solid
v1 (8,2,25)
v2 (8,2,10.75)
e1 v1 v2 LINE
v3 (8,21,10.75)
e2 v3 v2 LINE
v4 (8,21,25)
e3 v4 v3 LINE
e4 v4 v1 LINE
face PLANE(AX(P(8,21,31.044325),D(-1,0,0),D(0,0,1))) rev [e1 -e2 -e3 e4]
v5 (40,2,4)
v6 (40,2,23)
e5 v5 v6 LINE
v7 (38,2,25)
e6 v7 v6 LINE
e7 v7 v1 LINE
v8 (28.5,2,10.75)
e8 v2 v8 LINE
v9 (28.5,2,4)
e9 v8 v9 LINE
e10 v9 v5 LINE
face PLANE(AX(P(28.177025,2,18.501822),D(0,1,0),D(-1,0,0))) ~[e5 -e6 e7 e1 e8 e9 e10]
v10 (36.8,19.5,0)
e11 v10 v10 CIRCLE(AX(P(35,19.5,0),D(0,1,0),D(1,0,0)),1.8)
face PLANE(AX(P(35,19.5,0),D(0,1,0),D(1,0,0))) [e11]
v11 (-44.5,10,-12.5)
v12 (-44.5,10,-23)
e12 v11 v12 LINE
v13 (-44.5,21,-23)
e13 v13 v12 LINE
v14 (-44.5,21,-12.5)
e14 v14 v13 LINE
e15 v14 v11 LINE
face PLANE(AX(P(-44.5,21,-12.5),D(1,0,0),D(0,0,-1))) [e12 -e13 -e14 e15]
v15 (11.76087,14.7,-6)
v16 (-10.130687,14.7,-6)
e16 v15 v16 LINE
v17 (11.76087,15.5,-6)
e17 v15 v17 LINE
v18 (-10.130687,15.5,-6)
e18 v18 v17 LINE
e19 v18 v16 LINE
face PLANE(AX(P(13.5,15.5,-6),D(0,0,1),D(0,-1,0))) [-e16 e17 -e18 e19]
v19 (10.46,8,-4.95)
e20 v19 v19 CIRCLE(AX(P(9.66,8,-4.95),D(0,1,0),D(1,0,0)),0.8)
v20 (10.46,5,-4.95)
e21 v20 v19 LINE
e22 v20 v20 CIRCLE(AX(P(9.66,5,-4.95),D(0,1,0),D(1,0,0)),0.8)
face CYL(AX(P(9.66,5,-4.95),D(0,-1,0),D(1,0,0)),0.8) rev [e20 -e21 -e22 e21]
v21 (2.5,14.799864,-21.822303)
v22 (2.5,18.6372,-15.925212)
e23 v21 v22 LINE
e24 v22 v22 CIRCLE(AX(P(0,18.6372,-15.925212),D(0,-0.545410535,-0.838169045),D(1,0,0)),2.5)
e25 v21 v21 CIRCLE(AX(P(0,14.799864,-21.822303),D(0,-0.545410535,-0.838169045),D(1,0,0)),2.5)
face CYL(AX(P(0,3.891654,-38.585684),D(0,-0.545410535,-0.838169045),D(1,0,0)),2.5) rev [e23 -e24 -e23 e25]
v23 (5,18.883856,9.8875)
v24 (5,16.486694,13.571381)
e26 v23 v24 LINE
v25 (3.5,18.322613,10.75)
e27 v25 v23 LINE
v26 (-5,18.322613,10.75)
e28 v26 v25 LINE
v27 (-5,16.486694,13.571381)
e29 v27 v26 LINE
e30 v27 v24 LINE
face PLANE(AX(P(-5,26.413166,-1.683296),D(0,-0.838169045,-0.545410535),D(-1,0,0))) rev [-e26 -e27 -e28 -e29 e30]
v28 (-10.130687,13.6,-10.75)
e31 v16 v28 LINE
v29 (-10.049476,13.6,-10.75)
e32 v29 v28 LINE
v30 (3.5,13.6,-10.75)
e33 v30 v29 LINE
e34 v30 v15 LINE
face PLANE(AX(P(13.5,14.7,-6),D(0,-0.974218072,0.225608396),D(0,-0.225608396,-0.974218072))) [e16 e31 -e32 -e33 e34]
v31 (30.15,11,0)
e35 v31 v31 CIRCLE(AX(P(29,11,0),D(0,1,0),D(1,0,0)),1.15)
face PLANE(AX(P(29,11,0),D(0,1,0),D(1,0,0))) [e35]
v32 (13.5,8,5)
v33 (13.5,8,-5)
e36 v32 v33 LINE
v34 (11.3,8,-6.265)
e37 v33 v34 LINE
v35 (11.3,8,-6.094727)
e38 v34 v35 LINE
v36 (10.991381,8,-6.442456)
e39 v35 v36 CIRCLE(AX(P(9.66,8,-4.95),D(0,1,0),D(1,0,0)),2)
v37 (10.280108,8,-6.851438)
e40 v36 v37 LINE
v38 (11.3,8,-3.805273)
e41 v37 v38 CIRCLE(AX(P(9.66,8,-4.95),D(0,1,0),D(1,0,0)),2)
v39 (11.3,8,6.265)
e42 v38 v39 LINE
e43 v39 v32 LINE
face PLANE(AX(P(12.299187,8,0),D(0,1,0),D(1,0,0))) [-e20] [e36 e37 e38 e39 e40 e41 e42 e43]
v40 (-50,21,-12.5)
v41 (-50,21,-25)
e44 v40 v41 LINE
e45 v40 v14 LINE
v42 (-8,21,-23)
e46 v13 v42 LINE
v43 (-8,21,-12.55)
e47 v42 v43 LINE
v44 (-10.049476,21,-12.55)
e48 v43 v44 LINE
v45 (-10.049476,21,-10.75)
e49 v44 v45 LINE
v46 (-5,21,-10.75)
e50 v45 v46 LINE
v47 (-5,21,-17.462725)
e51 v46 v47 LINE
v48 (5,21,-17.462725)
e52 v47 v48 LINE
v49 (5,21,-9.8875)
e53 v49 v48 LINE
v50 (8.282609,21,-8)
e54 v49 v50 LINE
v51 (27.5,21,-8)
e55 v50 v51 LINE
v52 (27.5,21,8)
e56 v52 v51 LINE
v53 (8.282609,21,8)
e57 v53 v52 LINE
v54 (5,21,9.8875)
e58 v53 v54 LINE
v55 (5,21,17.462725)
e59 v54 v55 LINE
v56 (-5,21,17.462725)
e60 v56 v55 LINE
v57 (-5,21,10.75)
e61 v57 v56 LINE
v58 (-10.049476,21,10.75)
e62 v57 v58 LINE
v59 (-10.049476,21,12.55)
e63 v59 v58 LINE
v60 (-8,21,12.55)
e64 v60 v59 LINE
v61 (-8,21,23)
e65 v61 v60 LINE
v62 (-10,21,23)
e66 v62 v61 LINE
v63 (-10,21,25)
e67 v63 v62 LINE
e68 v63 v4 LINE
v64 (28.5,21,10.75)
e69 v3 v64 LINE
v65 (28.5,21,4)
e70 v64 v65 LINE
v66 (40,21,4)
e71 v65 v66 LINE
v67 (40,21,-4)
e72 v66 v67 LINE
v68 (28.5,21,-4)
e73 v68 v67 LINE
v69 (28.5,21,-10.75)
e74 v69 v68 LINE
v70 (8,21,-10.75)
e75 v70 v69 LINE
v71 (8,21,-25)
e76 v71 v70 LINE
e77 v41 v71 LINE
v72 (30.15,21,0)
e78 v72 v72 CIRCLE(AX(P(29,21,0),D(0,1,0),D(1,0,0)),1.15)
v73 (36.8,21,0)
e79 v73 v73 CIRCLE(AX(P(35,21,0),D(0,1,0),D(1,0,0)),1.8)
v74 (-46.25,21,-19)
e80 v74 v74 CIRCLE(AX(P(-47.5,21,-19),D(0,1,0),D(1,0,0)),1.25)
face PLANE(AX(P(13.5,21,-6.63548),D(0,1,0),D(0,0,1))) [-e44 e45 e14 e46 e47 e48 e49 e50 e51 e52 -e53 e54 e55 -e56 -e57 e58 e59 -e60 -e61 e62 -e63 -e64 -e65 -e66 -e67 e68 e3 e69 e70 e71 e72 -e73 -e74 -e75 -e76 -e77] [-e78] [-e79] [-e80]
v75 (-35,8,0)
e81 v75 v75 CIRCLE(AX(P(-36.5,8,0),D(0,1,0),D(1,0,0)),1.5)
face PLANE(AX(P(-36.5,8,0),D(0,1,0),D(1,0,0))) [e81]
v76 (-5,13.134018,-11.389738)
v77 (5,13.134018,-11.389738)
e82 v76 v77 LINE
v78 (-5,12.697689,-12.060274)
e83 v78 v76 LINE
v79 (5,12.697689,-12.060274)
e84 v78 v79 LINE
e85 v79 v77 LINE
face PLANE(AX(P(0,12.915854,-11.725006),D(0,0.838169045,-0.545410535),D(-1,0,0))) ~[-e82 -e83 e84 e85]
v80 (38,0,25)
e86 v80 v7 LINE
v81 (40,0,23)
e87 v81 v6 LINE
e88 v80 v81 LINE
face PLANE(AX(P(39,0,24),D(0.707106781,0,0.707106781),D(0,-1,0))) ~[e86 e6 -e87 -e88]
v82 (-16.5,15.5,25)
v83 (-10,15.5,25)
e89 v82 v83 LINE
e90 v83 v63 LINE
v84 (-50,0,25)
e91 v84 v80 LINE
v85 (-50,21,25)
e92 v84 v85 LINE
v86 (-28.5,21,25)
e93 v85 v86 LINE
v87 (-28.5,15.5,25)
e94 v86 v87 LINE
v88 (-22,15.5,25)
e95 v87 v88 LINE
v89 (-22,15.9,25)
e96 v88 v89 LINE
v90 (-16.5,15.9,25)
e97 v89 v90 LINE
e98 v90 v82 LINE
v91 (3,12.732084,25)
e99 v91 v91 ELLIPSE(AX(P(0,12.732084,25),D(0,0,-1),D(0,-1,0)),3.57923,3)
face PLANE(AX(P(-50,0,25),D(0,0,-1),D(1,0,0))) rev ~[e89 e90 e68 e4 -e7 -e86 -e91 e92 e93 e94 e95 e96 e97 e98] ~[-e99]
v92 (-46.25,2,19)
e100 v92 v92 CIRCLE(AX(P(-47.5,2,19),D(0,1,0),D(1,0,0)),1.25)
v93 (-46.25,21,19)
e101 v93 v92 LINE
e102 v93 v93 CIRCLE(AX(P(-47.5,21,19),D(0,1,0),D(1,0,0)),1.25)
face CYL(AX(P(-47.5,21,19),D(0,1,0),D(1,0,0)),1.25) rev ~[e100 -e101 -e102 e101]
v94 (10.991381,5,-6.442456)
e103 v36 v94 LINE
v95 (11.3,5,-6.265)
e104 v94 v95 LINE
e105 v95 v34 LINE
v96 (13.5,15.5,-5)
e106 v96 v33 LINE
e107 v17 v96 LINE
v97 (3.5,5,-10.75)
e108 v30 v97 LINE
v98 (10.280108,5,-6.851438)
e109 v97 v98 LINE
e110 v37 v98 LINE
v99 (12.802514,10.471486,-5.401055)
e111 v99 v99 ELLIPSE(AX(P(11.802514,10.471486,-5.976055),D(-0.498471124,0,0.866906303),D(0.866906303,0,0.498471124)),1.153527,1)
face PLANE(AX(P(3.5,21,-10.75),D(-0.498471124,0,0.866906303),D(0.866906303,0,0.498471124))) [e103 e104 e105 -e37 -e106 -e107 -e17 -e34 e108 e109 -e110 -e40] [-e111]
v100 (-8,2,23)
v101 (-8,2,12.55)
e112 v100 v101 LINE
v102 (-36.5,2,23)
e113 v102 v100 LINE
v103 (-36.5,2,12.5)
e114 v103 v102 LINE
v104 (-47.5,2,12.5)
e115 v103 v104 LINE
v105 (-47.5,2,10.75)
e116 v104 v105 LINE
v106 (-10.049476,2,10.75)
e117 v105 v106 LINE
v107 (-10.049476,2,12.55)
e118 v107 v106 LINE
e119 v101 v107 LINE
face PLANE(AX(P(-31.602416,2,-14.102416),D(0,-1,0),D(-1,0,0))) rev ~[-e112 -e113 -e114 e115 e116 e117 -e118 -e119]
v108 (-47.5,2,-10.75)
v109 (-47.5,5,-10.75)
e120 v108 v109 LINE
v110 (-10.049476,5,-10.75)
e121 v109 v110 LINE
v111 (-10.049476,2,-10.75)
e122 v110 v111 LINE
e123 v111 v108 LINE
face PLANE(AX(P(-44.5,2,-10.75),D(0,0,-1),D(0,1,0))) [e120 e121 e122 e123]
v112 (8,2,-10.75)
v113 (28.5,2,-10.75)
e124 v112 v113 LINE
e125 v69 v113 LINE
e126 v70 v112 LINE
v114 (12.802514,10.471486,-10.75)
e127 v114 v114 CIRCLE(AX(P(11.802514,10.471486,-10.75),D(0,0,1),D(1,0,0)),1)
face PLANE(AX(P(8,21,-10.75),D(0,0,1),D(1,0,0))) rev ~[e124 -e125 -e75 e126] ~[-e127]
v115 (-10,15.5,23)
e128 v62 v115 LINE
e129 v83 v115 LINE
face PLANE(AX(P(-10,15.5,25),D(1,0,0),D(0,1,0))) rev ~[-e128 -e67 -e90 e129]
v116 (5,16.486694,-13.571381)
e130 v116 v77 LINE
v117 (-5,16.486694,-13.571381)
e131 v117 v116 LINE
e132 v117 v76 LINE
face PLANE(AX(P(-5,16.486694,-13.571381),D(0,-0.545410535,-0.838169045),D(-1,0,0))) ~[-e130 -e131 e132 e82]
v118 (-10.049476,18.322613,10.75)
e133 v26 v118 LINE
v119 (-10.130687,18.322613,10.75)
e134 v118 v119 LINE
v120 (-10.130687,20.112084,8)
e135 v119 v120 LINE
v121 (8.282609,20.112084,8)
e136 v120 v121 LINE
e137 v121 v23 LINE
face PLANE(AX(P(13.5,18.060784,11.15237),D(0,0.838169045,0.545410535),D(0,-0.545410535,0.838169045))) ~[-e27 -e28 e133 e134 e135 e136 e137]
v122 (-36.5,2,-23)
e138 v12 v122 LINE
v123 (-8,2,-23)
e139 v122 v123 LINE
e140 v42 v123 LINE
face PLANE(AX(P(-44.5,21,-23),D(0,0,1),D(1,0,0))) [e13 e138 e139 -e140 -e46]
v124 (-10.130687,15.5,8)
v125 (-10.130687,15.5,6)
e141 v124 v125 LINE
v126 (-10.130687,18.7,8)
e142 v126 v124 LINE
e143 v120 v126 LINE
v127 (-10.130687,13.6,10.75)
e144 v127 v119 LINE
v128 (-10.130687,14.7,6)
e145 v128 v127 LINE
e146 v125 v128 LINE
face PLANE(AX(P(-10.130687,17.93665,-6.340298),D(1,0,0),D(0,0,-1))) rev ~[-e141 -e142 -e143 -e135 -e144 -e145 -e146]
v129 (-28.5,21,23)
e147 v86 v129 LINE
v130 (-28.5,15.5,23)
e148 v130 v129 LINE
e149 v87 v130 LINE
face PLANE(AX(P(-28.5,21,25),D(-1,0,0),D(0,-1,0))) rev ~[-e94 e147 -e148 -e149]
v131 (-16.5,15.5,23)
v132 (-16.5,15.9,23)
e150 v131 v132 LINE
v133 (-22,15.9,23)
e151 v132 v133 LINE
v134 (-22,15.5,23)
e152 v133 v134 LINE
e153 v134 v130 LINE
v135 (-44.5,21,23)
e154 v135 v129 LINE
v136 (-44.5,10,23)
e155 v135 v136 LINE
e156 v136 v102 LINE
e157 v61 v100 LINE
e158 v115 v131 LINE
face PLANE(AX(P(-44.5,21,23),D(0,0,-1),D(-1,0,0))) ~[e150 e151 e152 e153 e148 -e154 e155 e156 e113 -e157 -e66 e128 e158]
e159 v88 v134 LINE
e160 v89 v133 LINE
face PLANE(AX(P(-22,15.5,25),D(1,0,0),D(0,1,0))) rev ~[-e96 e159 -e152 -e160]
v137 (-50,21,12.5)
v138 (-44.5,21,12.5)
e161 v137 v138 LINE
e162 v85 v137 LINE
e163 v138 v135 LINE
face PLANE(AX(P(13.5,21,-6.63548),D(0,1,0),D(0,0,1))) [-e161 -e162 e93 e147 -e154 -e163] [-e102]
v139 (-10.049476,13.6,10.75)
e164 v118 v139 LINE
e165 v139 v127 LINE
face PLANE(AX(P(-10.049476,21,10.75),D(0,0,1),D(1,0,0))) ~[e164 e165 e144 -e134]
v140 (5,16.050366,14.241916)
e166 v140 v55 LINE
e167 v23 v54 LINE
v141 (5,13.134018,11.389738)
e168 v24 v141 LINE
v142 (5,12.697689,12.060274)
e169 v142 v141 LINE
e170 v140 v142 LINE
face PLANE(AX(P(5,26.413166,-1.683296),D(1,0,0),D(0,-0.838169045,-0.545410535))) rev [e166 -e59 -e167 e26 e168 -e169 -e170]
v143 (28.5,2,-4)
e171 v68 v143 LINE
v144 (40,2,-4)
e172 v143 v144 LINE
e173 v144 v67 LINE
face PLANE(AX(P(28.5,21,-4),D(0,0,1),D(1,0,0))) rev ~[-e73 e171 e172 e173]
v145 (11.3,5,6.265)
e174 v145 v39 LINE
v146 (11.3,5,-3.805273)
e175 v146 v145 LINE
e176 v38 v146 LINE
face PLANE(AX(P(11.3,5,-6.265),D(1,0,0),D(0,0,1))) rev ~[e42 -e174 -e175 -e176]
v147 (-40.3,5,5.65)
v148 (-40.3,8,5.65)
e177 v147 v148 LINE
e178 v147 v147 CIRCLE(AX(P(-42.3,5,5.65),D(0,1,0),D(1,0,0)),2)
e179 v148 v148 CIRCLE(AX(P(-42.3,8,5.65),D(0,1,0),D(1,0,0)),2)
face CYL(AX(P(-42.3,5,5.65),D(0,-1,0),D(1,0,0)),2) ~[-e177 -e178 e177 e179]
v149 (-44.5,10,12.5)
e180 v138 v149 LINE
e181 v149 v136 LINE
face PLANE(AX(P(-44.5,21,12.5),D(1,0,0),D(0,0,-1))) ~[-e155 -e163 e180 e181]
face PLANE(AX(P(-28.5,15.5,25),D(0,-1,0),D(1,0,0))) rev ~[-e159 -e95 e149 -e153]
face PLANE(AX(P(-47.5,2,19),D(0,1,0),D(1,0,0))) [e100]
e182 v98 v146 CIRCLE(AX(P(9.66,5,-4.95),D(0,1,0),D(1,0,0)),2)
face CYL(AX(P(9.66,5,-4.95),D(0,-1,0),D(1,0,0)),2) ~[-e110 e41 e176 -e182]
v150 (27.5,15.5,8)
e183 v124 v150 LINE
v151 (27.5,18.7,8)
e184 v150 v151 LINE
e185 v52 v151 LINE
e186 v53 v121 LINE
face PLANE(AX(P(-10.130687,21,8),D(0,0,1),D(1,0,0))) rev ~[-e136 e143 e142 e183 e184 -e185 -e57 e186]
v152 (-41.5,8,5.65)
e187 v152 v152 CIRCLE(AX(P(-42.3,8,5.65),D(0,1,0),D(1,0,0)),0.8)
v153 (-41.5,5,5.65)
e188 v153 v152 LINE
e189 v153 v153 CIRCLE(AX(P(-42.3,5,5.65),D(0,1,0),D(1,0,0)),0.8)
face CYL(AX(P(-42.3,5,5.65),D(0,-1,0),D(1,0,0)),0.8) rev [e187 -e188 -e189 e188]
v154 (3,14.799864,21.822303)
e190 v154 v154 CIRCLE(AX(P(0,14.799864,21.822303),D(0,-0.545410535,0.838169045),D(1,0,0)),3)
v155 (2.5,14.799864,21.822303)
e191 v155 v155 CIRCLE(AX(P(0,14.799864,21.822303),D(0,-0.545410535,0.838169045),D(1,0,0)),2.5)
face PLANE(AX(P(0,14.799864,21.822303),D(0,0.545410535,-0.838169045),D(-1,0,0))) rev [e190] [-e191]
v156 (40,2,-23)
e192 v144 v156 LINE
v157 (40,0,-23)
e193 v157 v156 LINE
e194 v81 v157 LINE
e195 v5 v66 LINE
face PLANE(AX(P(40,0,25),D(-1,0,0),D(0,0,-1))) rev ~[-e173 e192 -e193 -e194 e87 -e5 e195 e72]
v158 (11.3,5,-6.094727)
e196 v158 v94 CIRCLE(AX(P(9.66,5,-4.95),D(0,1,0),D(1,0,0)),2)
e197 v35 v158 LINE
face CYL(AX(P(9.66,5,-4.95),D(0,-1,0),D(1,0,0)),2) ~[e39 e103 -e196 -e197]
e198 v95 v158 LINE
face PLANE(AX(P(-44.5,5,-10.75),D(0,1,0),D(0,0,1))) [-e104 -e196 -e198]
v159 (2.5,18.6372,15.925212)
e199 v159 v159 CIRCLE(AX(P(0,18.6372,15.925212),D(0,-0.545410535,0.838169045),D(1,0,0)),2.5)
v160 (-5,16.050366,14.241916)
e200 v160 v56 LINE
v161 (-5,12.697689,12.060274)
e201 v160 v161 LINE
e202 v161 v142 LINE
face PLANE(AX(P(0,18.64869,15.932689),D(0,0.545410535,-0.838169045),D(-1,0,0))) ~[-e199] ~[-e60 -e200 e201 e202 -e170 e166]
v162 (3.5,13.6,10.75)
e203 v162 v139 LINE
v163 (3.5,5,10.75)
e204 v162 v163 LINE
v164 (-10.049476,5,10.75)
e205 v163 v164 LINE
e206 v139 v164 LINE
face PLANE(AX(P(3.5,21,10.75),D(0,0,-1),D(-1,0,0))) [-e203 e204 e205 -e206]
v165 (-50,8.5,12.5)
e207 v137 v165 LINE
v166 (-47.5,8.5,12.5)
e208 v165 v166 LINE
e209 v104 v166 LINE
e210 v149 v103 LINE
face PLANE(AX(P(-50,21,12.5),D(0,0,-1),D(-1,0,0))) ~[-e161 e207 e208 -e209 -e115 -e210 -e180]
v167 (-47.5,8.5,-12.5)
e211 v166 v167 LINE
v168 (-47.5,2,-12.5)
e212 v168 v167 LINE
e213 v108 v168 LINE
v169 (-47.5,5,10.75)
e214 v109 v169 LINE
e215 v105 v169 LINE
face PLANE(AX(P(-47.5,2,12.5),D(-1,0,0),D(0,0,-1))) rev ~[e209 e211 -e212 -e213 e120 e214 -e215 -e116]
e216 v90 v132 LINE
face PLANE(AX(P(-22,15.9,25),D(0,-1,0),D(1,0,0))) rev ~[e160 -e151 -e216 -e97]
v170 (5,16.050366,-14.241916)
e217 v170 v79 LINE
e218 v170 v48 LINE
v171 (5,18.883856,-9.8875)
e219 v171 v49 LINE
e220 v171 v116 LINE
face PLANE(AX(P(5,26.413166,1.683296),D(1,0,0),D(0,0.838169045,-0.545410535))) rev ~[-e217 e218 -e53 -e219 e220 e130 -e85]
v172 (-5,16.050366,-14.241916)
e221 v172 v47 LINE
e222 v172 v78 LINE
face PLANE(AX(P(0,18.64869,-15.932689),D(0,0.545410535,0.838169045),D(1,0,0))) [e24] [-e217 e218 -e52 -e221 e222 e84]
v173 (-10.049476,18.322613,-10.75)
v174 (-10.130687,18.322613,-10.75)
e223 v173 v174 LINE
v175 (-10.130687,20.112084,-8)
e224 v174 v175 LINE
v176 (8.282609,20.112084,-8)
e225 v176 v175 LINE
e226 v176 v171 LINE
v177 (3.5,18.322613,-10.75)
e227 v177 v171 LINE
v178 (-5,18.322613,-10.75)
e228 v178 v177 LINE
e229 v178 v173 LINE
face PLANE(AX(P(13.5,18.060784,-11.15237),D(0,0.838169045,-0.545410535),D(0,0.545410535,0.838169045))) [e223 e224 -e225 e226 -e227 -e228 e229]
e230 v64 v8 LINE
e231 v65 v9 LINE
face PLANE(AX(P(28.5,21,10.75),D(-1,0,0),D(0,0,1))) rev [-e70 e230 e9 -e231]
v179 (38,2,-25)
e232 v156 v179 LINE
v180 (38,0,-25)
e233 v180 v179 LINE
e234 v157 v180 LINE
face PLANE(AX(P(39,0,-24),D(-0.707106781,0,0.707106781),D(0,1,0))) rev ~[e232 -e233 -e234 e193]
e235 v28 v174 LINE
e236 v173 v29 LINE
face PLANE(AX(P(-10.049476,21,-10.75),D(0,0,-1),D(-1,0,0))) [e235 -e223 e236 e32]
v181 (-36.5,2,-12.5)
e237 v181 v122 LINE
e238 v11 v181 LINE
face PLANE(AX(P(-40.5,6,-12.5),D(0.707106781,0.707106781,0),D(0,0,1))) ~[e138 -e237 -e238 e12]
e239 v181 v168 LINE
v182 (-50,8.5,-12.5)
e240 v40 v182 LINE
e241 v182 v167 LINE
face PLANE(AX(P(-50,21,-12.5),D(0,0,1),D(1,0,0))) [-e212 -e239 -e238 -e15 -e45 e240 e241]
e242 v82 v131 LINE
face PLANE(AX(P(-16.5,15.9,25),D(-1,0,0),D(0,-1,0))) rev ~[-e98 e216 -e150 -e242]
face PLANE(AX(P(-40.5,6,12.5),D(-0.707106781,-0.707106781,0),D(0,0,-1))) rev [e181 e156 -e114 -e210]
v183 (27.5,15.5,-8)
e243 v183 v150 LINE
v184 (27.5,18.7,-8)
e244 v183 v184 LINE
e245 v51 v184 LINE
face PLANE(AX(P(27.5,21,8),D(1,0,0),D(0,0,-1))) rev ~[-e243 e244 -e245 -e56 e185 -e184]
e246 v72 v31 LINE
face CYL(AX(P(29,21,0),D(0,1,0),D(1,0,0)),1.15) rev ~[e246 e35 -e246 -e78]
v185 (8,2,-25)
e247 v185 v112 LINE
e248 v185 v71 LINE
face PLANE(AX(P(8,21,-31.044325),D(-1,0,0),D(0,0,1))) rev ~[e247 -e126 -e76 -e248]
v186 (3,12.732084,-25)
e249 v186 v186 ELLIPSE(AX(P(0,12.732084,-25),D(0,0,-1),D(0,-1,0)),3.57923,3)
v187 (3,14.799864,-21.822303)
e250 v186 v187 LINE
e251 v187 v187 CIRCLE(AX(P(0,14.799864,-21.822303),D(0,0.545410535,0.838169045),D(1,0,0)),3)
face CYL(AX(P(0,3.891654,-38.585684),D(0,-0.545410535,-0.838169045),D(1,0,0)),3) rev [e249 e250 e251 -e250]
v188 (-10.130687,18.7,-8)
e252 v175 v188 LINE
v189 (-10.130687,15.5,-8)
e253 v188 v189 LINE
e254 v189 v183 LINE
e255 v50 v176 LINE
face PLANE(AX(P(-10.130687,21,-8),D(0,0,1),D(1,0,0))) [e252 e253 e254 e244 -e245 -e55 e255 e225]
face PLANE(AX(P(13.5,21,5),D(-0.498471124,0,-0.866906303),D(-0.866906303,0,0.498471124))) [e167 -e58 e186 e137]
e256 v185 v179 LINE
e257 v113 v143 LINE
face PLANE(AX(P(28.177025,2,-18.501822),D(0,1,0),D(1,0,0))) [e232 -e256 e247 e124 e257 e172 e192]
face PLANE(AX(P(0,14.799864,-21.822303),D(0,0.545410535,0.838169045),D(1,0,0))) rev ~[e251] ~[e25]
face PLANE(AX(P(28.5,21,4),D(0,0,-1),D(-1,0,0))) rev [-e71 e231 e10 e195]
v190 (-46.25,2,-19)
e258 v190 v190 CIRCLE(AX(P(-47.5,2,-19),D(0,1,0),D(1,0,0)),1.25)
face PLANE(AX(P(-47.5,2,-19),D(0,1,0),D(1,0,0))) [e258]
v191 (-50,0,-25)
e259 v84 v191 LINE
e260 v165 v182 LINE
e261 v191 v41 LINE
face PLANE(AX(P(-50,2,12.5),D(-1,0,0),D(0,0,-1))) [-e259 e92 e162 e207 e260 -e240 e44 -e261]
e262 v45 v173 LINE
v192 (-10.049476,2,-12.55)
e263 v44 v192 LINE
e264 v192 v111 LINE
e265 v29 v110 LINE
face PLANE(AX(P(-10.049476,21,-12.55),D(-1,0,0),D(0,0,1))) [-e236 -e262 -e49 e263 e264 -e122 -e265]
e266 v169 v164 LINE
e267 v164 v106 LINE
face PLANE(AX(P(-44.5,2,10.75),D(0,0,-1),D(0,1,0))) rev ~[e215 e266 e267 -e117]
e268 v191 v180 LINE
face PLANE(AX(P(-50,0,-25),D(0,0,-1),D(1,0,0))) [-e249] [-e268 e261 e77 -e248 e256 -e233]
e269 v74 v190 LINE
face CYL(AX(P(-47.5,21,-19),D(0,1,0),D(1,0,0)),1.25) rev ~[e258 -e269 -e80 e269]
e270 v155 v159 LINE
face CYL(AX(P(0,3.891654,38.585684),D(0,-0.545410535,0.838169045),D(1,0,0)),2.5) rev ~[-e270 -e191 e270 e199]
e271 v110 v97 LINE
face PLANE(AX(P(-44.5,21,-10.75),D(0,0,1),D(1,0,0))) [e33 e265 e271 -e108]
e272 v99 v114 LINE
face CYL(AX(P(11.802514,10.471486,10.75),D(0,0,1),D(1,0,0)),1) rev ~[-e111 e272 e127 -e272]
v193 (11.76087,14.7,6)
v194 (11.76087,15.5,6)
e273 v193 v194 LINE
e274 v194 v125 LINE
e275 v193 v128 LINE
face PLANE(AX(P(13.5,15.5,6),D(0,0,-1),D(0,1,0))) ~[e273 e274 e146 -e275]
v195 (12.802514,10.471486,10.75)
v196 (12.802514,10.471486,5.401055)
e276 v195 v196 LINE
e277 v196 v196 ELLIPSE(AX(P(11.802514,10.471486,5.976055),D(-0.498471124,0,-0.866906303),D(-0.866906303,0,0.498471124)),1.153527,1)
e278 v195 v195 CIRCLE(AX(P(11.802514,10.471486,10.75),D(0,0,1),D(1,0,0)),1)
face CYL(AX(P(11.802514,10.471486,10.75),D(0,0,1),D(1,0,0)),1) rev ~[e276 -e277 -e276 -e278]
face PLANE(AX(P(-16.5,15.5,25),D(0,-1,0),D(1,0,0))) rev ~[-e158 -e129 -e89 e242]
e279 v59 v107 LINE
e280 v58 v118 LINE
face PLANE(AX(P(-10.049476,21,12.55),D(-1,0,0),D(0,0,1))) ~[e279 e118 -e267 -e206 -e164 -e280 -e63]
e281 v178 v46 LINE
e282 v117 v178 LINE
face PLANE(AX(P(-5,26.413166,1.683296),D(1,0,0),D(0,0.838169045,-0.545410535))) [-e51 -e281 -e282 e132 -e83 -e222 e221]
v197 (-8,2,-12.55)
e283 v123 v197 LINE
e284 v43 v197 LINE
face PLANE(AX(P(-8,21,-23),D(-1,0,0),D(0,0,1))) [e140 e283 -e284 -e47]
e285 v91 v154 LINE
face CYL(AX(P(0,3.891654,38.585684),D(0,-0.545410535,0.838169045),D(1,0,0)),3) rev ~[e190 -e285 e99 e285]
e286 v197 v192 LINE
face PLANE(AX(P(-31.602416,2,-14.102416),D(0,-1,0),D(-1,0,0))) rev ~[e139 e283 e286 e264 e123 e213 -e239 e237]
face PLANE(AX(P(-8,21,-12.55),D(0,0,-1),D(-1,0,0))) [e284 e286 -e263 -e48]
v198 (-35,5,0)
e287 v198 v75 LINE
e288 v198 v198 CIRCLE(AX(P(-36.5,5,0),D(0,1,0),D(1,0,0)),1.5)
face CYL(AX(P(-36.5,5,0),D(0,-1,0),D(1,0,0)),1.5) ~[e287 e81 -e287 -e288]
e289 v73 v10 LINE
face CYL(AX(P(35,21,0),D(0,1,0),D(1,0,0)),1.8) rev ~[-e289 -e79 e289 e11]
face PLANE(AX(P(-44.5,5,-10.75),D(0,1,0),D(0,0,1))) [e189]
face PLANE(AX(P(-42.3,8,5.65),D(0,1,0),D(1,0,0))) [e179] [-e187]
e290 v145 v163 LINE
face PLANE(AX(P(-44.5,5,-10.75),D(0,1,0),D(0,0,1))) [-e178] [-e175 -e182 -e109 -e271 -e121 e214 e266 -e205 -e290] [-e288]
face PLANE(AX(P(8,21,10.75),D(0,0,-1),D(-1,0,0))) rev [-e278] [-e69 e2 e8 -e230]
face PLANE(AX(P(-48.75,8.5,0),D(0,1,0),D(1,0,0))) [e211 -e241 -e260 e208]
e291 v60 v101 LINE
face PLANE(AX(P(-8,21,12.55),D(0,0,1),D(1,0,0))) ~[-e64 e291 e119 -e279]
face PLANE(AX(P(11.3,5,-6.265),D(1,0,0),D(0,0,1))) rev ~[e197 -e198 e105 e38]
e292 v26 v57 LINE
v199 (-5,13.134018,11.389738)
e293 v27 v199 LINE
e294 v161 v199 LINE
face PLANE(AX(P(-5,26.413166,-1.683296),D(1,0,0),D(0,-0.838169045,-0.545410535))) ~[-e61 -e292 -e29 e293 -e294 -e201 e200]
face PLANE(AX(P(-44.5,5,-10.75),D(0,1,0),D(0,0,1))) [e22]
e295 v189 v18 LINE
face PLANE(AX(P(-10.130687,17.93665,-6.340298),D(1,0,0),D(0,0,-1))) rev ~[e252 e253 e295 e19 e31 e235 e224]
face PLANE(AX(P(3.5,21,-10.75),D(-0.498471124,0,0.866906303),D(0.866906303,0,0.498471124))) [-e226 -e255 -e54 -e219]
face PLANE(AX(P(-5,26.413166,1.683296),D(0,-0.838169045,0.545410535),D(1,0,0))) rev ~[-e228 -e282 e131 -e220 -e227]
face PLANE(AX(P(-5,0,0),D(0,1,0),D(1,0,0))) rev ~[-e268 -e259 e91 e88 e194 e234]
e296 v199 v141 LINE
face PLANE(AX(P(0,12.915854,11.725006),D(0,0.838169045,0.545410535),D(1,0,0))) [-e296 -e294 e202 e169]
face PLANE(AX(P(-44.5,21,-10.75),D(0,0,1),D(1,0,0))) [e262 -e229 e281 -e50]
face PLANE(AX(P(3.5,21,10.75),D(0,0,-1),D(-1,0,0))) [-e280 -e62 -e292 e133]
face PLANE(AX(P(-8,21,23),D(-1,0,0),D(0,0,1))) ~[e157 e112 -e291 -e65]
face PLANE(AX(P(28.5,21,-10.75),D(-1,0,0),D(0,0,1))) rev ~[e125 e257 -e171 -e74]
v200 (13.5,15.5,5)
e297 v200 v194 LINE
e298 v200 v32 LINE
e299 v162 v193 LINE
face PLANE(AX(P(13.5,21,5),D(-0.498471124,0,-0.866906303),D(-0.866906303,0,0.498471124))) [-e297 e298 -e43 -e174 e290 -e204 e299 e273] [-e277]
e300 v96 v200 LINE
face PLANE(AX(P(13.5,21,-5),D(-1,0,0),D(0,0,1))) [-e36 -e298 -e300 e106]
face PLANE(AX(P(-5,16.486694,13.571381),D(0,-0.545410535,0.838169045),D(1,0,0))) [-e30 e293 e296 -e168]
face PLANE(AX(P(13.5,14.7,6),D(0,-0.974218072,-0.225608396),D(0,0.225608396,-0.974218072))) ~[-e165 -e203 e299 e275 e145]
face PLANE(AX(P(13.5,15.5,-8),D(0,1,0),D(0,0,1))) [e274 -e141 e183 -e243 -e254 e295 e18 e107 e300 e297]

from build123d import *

# Parameters (mm, degrees)
SKETCH1_W           = 90
SKETCH1_H           = 50
BOSS_EXTRUDE1_DEPTH = 21
CUT_EXTRUDE1_DEPTH  = 16
SKETCH4_R           = 2.5
CUT_EXTRUDE2_DEPTH  = 63.626624678
SKETCH5_W           = 10
SKETCH5_H           = 6.2
CUT_EXTRUDE3_DEPTH  = 19
SKETCH6_R           = 3
CUT_EXTRUDE4_DEPTH  = 20
SKETCH11_R          = 1.5
BOSS_EXTRUDE3_DEPTH = 3
BOSS_EXTRUDE2_DEPTH = 23.630686795
CUT_EXTRUDE6_DEPTH  = 19
SKETCH17_W          = 16
SKETCH17_H          = 3.2
CUT_EXTRUDE10_DEPTH = 37.549476
SKETCH15_R          = 1.8
CUT_EXTRUDE8_DEPTH  = 1.5
SKETCH16_R          = 1.25
CUT_EXTRUDE9_DEPTH  = 19
CUT_EXTRUDE11_REACH = 23
SKETCH19_R          = 4
CHAMFER1_SIZE       = 8
CHAMFER2_SIZE       = 2
CUT_EXTRUDE12_REACH = 52
SKETCH21_W          = 21.5
SKETCH21_H          = 3
BOSS_EXTRUDE4_DEPTH = 5.5
CUT_EXTRUDE13_REACH = 23
SKETCH23_W          = 37.630686795
SKETCH23_H          = 16
SKETCH25_R          = 1.15
CUT_EXTRUDE14_DEPTH = 10
SKETCH26_R          = 1
CUT_EXTRUDE15_DEPTH = 36.75
SKETCH27_W          = 2.5
SKETCH27_H          = 25
BOSS_EXTRUDE6_DEPTH = 6.5
SKETCH28_W          = 10
SKETCH28_H          = 0.8
CUT_EXTRUDE16_DEPTH = 4
SKETCH22_R          = 2
SKETCH22_R_2        = 0.8
BOSS_EXTRUDE7_DEPTH = 3


with BuildPart() as part:
    # Sketch1 → Boss-Extrude1 (new body)
    with BuildSketch(Plane(origin=(0, 0, 0), x_dir=(1, 0, 0), z_dir=(0, 1, 0))):
        with Locations((-5, 0)):
            Rectangle(SKETCH1_W, SKETCH1_H)
    extrude(amount=BOSS_EXTRUDE1_DEPTH)

    # Sketch2 → Cut-Extrude1 (cut)
    with BuildSketch(Plane(origin=(0, 21, 0), x_dir=(1, 0, 0), z_dir=(0, 1, 0))):
        Polygon((-44.5, 10.75), (3.5, 10.75), (13.5, 5), (13.5, -5), (3.5, -10.75), (-44.5, -10.75), align=None)
    extrude(amount=-CUT_EXTRUDE1_DEPTH, mode=Mode.SUBTRACT)

    # Sketch4 → Cut-Extrude2 (cut, through all)
    with BuildSketch(Plane(origin=(0, 3.891653574, -38.585684316), x_dir=(1, 0, 0), z_dir=(0, 0.545410535, 0.838169045))):
        Circle(SKETCH4_R)
    cut_extrude2 = extrude(amount=CUT_EXTRUDE2_DEPTH, mode=Mode.SUBTRACT)

    # Sketch5 → Cut-Extrude3 (cut)
    with BuildSketch(Plane(origin=(0, 29, 0), x_dir=(1, 0, 0), z_dir=(0, 0.545410535, 0.838169045))):
        with Locations((0, 0.013708289)):
            Rectangle(SKETCH5_W, SKETCH5_H)
    cut_extrude3 = extrude(amount=-CUT_EXTRUDE3_DEPTH, mode=Mode.SUBTRACT)

    # Sketch6 → Cut-Extrude4 (cut)
    with BuildSketch(Plane(origin=(0, 3.891653574, -38.585684316), x_dir=(1, 0, 0), z_dir=(0, 0.545410535, 0.838169045))):
        Circle(SKETCH6_R)
    cut_extrude4 = extrude(amount=CUT_EXTRUDE4_DEPTH, mode=Mode.SUBTRACT)

    # Sketch11 → Boss-Extrude3 (add)
    with BuildSketch(Plane(origin=(0, 5, 0), x_dir=(1, 0, 0), z_dir=(0, 1, 0))):
        with Locations((-36.5, 0)):
            Circle(SKETCH11_R)
        Polygon((11.3, 6.265), (11.3, -6.265), (13.5, -5), (13.5, 5), align=None)
    extrude(amount=BOSS_EXTRUDE3_DEPTH)

    # Sketch9 → Boss-Extrude2 (add)
    with BuildSketch(Plane.ZY.offset(-13.5)):
        Polygon((-8, 18.7), (-8, 15.5), (-6, 15.5), (-6, 14.7), (-10.75, 13.6), (-11.152370245, 13.6), (-11.152370245, 14.662668332), (-11.152370245, 18.060784345), (-6.635479906, 21), (0, 21), (0, 18.7), align=None)
    boss_extrude2 = extrude(amount=BOSS_EXTRUDE2_DEPTH)

    # Mirror1: Cut-Extrude2, Cut-Extrude3, Cut-Extrude4, Boss-Extrude2 across plane
    add(cut_extrude2.mirror(Plane.XY), mode=Mode.SUBTRACT)
    add(cut_extrude3.mirror(Plane.XY), mode=Mode.SUBTRACT)
    add(cut_extrude4.mirror(Plane.XY), mode=Mode.SUBTRACT)
    add(boss_extrude2.mirror(Plane.XY))

    # Sketch10 → Cut-Extrude6 (cut)
    with BuildSketch(Plane(origin=(0, 21, 0), x_dir=(1, 0, 0), z_dir=(0, 1, 0))):
        Polygon((-44.5, 12.5), (-44.5, 23), (-8, 23), (-8, 12.55), (-10.049475977, 12.55), (-10.049475977, 10.75), (-44.5, 10.75), (-44.5, 0), (-50, 0), (-50, 12.5), align=None)
        Polygon((8, 25), (8, 10.75), (28.5, 10.75), (28.5, 4), (46.328078386, 4), (46.328078386, 30.717572765), (8, 31.044325351), align=None)
    cut_extrude6 = extrude(amount=-CUT_EXTRUDE6_DEPTH, mode=Mode.SUBTRACT)

    # Mirror2: Cut-Extrude6 across plane
    add(cut_extrude6.mirror(Plane.XY), mode=Mode.SUBTRACT)

    # Sketch17 → Cut-Extrude10 (cut)
    with BuildSketch(Plane.ZY.offset(10.049475977)):
        with Locations((0, 17.1)):
            Rectangle(SKETCH17_W, SKETCH17_H)
    extrude(amount=-CUT_EXTRUDE10_DEPTH, mode=Mode.SUBTRACT)

    # Sketch15 → Cut-Extrude8 (cut)
    with BuildSketch(Plane(origin=(0, 21, 0), x_dir=(1, 0, 0), z_dir=(0, 1, 0))):
        with Locations((35, 0)):
            Circle(SKETCH15_R)
    extrude(amount=-CUT_EXTRUDE8_DEPTH, mode=Mode.SUBTRACT)

    # Sketch16 → Cut-Extrude9 (cut)
    with BuildSketch(Plane(origin=(0, 21, 0), x_dir=(1, 0, 0), z_dir=(0, 1, 0))):
        with Locations((-47.5, 19)):
            Circle(SKETCH16_R)
        with Locations((-47.5, -19)):
            Circle(SKETCH16_R)
    extrude(amount=-CUT_EXTRUDE9_DEPTH, mode=Mode.SUBTRACT)

    # Sketch19 → Cut-Extrude11 (cut, up to next)
    with BuildSketch(Plane(origin=(0, 21, 0), x_dir=(1, 0, 0), z_dir=(0, 1, 0)), mode=Mode.PRIVATE) as cut_extrude11_sk1:
        Circle(SKETCH19_R)
    cut_extrude11_tool1 = extrude(cut_extrude11_sk1.sketch, amount=-CUT_EXTRUDE11_REACH, mode=Mode.PRIVATE) & part.part
    add(cut_extrude11_tool1.solids().sort_by_distance((0, 21, 0))[0], mode=Mode.SUBTRACT)

    # Chamfer1
    chamfer1_edges = [part.edges().sort_by_distance(p)[0] for p in [
        (-44.5, 2, -17.75),
        (-44.5, 2, 17.75),
    ]]
    chamfer(chamfer1_edges, length=CHAMFER1_SIZE)

    # Chamfer2
    chamfer2_edges = [part.edges().sort_by_distance(p)[0] for p in [
        (40, 1, -25),
        (40, 1, 25),
    ]]
    chamfer(chamfer2_edges, length=CHAMFER2_SIZE)

    # Sketch20 → Cut-Extrude12 (cut, up to next)
    with BuildSketch(Plane.XY.offset(25), mode=Mode.PRIVATE) as cut_extrude12_sk1:
        Polygon((-28.5, 15.5), (-22, 15.5), (-22, 15.9), (-16.5, 15.9), (-16.5, 15.5), (-10, 15.5), (-10, 21), (-28.5, 21), (-28.5, 15.8), align=None)
    cut_extrude12_tool1 = extrude(cut_extrude12_sk1.sketch, amount=-CUT_EXTRUDE12_REACH, mode=Mode.PRIVATE) & part.part
    add(cut_extrude12_tool1.solids().sort_by_distance((-19.25, 18.306354, 25))[0], mode=Mode.SUBTRACT)

    # Sketch21 → Boss-Extrude4 (add)
    with BuildSketch(Plane.ZY.offset(44.5)):
        with Locations((0, 3.5)):
            Rectangle(SKETCH21_W, SKETCH21_H)
    extrude(amount=BOSS_EXTRUDE4_DEPTH)

    # Sketch23 → Cut-Extrude13 (cut, up to next)
    with BuildSketch(Plane(origin=(0, 21, 0), x_dir=(1, 0, 0), z_dir=(0, 1, 0)), mode=Mode.PRIVATE) as cut_extrude13_sk1:
        with Locations((8.684656602, 0)):
            Rectangle(SKETCH23_W, SKETCH23_H)
    cut_extrude13_tool1 = extrude(cut_extrude13_sk1.sketch, amount=-CUT_EXTRUDE13_REACH, mode=Mode.PRIVATE) & part.part
    add(cut_extrude13_tool1.solids().sort_by_distance((8.684657, 21, 0))[0], mode=Mode.SUBTRACT)

    # Sketch25 → Cut-Extrude14 (cut)
    with BuildSketch(Plane(origin=(0, 21, 0), x_dir=(1, 0, 0), z_dir=(0, 1, 0))):
        with Locations((29, 0)):
            Circle(SKETCH25_R)
    extrude(amount=-CUT_EXTRUDE14_DEPTH, mode=Mode.SUBTRACT)

    # Sketch26 → Cut-Extrude15 (cut, through all)
    with BuildSketch(Plane.XY.offset(10.75)):
        with Locations((11.80251356, 10.471486046)):
            Circle(SKETCH26_R)
    extrude(amount=-CUT_EXTRUDE15_DEPTH, mode=Mode.SUBTRACT)

    # Sketch27 → Boss-Extrude6 (add)
    with BuildSketch(Plane(origin=(0, 2, 0), x_dir=(1, 0, 0), z_dir=(0, 1, 0))):
        with Locations((-48.75, 0)):
            Rectangle(SKETCH27_W, SKETCH27_H)
    extrude(amount=BOSS_EXTRUDE6_DEPTH)

    # Sketch28 → Cut-Extrude16 (cut)
    with BuildSketch(Plane(origin=(0, 17.786458912, 11.573944585), x_dir=(1, 0, 0), z_dir=(0, 0.838169045, 0.545410535))):
        with Locations((0, -2.783094473)):
            Rectangle(SKETCH28_W, SKETCH28_H)
    cut_extrude16 = extrude(amount=-CUT_EXTRUDE16_DEPTH, mode=Mode.SUBTRACT)

    # Mirror3: Cut-Extrude16 across plane
    add(cut_extrude16.mirror(Plane.XY), mode=Mode.SUBTRACT)

    # Sketch22 → Boss-Extrude7 (add)
    with BuildSketch(Plane(origin=(0, 5, 0), x_dir=(1, 0, 0), z_dir=(0, 1, 0))):
        with Locations((-42.3, -5.65)):
            Circle(SKETCH22_R)
        with Locations((-42.3, -5.65)):
            Circle(SKETCH22_R_2, mode=Mode.SUBTRACT)
        with Locations((9.66, 4.95)):
            Circle(SKETCH22_R)
        with Locations((9.66, 4.95)):
            Circle(SKETCH22_R_2, mode=Mode.SUBTRACT)
    extrude(amount=BOSS_EXTRUDE7_DEPTH)


solid = part.part
